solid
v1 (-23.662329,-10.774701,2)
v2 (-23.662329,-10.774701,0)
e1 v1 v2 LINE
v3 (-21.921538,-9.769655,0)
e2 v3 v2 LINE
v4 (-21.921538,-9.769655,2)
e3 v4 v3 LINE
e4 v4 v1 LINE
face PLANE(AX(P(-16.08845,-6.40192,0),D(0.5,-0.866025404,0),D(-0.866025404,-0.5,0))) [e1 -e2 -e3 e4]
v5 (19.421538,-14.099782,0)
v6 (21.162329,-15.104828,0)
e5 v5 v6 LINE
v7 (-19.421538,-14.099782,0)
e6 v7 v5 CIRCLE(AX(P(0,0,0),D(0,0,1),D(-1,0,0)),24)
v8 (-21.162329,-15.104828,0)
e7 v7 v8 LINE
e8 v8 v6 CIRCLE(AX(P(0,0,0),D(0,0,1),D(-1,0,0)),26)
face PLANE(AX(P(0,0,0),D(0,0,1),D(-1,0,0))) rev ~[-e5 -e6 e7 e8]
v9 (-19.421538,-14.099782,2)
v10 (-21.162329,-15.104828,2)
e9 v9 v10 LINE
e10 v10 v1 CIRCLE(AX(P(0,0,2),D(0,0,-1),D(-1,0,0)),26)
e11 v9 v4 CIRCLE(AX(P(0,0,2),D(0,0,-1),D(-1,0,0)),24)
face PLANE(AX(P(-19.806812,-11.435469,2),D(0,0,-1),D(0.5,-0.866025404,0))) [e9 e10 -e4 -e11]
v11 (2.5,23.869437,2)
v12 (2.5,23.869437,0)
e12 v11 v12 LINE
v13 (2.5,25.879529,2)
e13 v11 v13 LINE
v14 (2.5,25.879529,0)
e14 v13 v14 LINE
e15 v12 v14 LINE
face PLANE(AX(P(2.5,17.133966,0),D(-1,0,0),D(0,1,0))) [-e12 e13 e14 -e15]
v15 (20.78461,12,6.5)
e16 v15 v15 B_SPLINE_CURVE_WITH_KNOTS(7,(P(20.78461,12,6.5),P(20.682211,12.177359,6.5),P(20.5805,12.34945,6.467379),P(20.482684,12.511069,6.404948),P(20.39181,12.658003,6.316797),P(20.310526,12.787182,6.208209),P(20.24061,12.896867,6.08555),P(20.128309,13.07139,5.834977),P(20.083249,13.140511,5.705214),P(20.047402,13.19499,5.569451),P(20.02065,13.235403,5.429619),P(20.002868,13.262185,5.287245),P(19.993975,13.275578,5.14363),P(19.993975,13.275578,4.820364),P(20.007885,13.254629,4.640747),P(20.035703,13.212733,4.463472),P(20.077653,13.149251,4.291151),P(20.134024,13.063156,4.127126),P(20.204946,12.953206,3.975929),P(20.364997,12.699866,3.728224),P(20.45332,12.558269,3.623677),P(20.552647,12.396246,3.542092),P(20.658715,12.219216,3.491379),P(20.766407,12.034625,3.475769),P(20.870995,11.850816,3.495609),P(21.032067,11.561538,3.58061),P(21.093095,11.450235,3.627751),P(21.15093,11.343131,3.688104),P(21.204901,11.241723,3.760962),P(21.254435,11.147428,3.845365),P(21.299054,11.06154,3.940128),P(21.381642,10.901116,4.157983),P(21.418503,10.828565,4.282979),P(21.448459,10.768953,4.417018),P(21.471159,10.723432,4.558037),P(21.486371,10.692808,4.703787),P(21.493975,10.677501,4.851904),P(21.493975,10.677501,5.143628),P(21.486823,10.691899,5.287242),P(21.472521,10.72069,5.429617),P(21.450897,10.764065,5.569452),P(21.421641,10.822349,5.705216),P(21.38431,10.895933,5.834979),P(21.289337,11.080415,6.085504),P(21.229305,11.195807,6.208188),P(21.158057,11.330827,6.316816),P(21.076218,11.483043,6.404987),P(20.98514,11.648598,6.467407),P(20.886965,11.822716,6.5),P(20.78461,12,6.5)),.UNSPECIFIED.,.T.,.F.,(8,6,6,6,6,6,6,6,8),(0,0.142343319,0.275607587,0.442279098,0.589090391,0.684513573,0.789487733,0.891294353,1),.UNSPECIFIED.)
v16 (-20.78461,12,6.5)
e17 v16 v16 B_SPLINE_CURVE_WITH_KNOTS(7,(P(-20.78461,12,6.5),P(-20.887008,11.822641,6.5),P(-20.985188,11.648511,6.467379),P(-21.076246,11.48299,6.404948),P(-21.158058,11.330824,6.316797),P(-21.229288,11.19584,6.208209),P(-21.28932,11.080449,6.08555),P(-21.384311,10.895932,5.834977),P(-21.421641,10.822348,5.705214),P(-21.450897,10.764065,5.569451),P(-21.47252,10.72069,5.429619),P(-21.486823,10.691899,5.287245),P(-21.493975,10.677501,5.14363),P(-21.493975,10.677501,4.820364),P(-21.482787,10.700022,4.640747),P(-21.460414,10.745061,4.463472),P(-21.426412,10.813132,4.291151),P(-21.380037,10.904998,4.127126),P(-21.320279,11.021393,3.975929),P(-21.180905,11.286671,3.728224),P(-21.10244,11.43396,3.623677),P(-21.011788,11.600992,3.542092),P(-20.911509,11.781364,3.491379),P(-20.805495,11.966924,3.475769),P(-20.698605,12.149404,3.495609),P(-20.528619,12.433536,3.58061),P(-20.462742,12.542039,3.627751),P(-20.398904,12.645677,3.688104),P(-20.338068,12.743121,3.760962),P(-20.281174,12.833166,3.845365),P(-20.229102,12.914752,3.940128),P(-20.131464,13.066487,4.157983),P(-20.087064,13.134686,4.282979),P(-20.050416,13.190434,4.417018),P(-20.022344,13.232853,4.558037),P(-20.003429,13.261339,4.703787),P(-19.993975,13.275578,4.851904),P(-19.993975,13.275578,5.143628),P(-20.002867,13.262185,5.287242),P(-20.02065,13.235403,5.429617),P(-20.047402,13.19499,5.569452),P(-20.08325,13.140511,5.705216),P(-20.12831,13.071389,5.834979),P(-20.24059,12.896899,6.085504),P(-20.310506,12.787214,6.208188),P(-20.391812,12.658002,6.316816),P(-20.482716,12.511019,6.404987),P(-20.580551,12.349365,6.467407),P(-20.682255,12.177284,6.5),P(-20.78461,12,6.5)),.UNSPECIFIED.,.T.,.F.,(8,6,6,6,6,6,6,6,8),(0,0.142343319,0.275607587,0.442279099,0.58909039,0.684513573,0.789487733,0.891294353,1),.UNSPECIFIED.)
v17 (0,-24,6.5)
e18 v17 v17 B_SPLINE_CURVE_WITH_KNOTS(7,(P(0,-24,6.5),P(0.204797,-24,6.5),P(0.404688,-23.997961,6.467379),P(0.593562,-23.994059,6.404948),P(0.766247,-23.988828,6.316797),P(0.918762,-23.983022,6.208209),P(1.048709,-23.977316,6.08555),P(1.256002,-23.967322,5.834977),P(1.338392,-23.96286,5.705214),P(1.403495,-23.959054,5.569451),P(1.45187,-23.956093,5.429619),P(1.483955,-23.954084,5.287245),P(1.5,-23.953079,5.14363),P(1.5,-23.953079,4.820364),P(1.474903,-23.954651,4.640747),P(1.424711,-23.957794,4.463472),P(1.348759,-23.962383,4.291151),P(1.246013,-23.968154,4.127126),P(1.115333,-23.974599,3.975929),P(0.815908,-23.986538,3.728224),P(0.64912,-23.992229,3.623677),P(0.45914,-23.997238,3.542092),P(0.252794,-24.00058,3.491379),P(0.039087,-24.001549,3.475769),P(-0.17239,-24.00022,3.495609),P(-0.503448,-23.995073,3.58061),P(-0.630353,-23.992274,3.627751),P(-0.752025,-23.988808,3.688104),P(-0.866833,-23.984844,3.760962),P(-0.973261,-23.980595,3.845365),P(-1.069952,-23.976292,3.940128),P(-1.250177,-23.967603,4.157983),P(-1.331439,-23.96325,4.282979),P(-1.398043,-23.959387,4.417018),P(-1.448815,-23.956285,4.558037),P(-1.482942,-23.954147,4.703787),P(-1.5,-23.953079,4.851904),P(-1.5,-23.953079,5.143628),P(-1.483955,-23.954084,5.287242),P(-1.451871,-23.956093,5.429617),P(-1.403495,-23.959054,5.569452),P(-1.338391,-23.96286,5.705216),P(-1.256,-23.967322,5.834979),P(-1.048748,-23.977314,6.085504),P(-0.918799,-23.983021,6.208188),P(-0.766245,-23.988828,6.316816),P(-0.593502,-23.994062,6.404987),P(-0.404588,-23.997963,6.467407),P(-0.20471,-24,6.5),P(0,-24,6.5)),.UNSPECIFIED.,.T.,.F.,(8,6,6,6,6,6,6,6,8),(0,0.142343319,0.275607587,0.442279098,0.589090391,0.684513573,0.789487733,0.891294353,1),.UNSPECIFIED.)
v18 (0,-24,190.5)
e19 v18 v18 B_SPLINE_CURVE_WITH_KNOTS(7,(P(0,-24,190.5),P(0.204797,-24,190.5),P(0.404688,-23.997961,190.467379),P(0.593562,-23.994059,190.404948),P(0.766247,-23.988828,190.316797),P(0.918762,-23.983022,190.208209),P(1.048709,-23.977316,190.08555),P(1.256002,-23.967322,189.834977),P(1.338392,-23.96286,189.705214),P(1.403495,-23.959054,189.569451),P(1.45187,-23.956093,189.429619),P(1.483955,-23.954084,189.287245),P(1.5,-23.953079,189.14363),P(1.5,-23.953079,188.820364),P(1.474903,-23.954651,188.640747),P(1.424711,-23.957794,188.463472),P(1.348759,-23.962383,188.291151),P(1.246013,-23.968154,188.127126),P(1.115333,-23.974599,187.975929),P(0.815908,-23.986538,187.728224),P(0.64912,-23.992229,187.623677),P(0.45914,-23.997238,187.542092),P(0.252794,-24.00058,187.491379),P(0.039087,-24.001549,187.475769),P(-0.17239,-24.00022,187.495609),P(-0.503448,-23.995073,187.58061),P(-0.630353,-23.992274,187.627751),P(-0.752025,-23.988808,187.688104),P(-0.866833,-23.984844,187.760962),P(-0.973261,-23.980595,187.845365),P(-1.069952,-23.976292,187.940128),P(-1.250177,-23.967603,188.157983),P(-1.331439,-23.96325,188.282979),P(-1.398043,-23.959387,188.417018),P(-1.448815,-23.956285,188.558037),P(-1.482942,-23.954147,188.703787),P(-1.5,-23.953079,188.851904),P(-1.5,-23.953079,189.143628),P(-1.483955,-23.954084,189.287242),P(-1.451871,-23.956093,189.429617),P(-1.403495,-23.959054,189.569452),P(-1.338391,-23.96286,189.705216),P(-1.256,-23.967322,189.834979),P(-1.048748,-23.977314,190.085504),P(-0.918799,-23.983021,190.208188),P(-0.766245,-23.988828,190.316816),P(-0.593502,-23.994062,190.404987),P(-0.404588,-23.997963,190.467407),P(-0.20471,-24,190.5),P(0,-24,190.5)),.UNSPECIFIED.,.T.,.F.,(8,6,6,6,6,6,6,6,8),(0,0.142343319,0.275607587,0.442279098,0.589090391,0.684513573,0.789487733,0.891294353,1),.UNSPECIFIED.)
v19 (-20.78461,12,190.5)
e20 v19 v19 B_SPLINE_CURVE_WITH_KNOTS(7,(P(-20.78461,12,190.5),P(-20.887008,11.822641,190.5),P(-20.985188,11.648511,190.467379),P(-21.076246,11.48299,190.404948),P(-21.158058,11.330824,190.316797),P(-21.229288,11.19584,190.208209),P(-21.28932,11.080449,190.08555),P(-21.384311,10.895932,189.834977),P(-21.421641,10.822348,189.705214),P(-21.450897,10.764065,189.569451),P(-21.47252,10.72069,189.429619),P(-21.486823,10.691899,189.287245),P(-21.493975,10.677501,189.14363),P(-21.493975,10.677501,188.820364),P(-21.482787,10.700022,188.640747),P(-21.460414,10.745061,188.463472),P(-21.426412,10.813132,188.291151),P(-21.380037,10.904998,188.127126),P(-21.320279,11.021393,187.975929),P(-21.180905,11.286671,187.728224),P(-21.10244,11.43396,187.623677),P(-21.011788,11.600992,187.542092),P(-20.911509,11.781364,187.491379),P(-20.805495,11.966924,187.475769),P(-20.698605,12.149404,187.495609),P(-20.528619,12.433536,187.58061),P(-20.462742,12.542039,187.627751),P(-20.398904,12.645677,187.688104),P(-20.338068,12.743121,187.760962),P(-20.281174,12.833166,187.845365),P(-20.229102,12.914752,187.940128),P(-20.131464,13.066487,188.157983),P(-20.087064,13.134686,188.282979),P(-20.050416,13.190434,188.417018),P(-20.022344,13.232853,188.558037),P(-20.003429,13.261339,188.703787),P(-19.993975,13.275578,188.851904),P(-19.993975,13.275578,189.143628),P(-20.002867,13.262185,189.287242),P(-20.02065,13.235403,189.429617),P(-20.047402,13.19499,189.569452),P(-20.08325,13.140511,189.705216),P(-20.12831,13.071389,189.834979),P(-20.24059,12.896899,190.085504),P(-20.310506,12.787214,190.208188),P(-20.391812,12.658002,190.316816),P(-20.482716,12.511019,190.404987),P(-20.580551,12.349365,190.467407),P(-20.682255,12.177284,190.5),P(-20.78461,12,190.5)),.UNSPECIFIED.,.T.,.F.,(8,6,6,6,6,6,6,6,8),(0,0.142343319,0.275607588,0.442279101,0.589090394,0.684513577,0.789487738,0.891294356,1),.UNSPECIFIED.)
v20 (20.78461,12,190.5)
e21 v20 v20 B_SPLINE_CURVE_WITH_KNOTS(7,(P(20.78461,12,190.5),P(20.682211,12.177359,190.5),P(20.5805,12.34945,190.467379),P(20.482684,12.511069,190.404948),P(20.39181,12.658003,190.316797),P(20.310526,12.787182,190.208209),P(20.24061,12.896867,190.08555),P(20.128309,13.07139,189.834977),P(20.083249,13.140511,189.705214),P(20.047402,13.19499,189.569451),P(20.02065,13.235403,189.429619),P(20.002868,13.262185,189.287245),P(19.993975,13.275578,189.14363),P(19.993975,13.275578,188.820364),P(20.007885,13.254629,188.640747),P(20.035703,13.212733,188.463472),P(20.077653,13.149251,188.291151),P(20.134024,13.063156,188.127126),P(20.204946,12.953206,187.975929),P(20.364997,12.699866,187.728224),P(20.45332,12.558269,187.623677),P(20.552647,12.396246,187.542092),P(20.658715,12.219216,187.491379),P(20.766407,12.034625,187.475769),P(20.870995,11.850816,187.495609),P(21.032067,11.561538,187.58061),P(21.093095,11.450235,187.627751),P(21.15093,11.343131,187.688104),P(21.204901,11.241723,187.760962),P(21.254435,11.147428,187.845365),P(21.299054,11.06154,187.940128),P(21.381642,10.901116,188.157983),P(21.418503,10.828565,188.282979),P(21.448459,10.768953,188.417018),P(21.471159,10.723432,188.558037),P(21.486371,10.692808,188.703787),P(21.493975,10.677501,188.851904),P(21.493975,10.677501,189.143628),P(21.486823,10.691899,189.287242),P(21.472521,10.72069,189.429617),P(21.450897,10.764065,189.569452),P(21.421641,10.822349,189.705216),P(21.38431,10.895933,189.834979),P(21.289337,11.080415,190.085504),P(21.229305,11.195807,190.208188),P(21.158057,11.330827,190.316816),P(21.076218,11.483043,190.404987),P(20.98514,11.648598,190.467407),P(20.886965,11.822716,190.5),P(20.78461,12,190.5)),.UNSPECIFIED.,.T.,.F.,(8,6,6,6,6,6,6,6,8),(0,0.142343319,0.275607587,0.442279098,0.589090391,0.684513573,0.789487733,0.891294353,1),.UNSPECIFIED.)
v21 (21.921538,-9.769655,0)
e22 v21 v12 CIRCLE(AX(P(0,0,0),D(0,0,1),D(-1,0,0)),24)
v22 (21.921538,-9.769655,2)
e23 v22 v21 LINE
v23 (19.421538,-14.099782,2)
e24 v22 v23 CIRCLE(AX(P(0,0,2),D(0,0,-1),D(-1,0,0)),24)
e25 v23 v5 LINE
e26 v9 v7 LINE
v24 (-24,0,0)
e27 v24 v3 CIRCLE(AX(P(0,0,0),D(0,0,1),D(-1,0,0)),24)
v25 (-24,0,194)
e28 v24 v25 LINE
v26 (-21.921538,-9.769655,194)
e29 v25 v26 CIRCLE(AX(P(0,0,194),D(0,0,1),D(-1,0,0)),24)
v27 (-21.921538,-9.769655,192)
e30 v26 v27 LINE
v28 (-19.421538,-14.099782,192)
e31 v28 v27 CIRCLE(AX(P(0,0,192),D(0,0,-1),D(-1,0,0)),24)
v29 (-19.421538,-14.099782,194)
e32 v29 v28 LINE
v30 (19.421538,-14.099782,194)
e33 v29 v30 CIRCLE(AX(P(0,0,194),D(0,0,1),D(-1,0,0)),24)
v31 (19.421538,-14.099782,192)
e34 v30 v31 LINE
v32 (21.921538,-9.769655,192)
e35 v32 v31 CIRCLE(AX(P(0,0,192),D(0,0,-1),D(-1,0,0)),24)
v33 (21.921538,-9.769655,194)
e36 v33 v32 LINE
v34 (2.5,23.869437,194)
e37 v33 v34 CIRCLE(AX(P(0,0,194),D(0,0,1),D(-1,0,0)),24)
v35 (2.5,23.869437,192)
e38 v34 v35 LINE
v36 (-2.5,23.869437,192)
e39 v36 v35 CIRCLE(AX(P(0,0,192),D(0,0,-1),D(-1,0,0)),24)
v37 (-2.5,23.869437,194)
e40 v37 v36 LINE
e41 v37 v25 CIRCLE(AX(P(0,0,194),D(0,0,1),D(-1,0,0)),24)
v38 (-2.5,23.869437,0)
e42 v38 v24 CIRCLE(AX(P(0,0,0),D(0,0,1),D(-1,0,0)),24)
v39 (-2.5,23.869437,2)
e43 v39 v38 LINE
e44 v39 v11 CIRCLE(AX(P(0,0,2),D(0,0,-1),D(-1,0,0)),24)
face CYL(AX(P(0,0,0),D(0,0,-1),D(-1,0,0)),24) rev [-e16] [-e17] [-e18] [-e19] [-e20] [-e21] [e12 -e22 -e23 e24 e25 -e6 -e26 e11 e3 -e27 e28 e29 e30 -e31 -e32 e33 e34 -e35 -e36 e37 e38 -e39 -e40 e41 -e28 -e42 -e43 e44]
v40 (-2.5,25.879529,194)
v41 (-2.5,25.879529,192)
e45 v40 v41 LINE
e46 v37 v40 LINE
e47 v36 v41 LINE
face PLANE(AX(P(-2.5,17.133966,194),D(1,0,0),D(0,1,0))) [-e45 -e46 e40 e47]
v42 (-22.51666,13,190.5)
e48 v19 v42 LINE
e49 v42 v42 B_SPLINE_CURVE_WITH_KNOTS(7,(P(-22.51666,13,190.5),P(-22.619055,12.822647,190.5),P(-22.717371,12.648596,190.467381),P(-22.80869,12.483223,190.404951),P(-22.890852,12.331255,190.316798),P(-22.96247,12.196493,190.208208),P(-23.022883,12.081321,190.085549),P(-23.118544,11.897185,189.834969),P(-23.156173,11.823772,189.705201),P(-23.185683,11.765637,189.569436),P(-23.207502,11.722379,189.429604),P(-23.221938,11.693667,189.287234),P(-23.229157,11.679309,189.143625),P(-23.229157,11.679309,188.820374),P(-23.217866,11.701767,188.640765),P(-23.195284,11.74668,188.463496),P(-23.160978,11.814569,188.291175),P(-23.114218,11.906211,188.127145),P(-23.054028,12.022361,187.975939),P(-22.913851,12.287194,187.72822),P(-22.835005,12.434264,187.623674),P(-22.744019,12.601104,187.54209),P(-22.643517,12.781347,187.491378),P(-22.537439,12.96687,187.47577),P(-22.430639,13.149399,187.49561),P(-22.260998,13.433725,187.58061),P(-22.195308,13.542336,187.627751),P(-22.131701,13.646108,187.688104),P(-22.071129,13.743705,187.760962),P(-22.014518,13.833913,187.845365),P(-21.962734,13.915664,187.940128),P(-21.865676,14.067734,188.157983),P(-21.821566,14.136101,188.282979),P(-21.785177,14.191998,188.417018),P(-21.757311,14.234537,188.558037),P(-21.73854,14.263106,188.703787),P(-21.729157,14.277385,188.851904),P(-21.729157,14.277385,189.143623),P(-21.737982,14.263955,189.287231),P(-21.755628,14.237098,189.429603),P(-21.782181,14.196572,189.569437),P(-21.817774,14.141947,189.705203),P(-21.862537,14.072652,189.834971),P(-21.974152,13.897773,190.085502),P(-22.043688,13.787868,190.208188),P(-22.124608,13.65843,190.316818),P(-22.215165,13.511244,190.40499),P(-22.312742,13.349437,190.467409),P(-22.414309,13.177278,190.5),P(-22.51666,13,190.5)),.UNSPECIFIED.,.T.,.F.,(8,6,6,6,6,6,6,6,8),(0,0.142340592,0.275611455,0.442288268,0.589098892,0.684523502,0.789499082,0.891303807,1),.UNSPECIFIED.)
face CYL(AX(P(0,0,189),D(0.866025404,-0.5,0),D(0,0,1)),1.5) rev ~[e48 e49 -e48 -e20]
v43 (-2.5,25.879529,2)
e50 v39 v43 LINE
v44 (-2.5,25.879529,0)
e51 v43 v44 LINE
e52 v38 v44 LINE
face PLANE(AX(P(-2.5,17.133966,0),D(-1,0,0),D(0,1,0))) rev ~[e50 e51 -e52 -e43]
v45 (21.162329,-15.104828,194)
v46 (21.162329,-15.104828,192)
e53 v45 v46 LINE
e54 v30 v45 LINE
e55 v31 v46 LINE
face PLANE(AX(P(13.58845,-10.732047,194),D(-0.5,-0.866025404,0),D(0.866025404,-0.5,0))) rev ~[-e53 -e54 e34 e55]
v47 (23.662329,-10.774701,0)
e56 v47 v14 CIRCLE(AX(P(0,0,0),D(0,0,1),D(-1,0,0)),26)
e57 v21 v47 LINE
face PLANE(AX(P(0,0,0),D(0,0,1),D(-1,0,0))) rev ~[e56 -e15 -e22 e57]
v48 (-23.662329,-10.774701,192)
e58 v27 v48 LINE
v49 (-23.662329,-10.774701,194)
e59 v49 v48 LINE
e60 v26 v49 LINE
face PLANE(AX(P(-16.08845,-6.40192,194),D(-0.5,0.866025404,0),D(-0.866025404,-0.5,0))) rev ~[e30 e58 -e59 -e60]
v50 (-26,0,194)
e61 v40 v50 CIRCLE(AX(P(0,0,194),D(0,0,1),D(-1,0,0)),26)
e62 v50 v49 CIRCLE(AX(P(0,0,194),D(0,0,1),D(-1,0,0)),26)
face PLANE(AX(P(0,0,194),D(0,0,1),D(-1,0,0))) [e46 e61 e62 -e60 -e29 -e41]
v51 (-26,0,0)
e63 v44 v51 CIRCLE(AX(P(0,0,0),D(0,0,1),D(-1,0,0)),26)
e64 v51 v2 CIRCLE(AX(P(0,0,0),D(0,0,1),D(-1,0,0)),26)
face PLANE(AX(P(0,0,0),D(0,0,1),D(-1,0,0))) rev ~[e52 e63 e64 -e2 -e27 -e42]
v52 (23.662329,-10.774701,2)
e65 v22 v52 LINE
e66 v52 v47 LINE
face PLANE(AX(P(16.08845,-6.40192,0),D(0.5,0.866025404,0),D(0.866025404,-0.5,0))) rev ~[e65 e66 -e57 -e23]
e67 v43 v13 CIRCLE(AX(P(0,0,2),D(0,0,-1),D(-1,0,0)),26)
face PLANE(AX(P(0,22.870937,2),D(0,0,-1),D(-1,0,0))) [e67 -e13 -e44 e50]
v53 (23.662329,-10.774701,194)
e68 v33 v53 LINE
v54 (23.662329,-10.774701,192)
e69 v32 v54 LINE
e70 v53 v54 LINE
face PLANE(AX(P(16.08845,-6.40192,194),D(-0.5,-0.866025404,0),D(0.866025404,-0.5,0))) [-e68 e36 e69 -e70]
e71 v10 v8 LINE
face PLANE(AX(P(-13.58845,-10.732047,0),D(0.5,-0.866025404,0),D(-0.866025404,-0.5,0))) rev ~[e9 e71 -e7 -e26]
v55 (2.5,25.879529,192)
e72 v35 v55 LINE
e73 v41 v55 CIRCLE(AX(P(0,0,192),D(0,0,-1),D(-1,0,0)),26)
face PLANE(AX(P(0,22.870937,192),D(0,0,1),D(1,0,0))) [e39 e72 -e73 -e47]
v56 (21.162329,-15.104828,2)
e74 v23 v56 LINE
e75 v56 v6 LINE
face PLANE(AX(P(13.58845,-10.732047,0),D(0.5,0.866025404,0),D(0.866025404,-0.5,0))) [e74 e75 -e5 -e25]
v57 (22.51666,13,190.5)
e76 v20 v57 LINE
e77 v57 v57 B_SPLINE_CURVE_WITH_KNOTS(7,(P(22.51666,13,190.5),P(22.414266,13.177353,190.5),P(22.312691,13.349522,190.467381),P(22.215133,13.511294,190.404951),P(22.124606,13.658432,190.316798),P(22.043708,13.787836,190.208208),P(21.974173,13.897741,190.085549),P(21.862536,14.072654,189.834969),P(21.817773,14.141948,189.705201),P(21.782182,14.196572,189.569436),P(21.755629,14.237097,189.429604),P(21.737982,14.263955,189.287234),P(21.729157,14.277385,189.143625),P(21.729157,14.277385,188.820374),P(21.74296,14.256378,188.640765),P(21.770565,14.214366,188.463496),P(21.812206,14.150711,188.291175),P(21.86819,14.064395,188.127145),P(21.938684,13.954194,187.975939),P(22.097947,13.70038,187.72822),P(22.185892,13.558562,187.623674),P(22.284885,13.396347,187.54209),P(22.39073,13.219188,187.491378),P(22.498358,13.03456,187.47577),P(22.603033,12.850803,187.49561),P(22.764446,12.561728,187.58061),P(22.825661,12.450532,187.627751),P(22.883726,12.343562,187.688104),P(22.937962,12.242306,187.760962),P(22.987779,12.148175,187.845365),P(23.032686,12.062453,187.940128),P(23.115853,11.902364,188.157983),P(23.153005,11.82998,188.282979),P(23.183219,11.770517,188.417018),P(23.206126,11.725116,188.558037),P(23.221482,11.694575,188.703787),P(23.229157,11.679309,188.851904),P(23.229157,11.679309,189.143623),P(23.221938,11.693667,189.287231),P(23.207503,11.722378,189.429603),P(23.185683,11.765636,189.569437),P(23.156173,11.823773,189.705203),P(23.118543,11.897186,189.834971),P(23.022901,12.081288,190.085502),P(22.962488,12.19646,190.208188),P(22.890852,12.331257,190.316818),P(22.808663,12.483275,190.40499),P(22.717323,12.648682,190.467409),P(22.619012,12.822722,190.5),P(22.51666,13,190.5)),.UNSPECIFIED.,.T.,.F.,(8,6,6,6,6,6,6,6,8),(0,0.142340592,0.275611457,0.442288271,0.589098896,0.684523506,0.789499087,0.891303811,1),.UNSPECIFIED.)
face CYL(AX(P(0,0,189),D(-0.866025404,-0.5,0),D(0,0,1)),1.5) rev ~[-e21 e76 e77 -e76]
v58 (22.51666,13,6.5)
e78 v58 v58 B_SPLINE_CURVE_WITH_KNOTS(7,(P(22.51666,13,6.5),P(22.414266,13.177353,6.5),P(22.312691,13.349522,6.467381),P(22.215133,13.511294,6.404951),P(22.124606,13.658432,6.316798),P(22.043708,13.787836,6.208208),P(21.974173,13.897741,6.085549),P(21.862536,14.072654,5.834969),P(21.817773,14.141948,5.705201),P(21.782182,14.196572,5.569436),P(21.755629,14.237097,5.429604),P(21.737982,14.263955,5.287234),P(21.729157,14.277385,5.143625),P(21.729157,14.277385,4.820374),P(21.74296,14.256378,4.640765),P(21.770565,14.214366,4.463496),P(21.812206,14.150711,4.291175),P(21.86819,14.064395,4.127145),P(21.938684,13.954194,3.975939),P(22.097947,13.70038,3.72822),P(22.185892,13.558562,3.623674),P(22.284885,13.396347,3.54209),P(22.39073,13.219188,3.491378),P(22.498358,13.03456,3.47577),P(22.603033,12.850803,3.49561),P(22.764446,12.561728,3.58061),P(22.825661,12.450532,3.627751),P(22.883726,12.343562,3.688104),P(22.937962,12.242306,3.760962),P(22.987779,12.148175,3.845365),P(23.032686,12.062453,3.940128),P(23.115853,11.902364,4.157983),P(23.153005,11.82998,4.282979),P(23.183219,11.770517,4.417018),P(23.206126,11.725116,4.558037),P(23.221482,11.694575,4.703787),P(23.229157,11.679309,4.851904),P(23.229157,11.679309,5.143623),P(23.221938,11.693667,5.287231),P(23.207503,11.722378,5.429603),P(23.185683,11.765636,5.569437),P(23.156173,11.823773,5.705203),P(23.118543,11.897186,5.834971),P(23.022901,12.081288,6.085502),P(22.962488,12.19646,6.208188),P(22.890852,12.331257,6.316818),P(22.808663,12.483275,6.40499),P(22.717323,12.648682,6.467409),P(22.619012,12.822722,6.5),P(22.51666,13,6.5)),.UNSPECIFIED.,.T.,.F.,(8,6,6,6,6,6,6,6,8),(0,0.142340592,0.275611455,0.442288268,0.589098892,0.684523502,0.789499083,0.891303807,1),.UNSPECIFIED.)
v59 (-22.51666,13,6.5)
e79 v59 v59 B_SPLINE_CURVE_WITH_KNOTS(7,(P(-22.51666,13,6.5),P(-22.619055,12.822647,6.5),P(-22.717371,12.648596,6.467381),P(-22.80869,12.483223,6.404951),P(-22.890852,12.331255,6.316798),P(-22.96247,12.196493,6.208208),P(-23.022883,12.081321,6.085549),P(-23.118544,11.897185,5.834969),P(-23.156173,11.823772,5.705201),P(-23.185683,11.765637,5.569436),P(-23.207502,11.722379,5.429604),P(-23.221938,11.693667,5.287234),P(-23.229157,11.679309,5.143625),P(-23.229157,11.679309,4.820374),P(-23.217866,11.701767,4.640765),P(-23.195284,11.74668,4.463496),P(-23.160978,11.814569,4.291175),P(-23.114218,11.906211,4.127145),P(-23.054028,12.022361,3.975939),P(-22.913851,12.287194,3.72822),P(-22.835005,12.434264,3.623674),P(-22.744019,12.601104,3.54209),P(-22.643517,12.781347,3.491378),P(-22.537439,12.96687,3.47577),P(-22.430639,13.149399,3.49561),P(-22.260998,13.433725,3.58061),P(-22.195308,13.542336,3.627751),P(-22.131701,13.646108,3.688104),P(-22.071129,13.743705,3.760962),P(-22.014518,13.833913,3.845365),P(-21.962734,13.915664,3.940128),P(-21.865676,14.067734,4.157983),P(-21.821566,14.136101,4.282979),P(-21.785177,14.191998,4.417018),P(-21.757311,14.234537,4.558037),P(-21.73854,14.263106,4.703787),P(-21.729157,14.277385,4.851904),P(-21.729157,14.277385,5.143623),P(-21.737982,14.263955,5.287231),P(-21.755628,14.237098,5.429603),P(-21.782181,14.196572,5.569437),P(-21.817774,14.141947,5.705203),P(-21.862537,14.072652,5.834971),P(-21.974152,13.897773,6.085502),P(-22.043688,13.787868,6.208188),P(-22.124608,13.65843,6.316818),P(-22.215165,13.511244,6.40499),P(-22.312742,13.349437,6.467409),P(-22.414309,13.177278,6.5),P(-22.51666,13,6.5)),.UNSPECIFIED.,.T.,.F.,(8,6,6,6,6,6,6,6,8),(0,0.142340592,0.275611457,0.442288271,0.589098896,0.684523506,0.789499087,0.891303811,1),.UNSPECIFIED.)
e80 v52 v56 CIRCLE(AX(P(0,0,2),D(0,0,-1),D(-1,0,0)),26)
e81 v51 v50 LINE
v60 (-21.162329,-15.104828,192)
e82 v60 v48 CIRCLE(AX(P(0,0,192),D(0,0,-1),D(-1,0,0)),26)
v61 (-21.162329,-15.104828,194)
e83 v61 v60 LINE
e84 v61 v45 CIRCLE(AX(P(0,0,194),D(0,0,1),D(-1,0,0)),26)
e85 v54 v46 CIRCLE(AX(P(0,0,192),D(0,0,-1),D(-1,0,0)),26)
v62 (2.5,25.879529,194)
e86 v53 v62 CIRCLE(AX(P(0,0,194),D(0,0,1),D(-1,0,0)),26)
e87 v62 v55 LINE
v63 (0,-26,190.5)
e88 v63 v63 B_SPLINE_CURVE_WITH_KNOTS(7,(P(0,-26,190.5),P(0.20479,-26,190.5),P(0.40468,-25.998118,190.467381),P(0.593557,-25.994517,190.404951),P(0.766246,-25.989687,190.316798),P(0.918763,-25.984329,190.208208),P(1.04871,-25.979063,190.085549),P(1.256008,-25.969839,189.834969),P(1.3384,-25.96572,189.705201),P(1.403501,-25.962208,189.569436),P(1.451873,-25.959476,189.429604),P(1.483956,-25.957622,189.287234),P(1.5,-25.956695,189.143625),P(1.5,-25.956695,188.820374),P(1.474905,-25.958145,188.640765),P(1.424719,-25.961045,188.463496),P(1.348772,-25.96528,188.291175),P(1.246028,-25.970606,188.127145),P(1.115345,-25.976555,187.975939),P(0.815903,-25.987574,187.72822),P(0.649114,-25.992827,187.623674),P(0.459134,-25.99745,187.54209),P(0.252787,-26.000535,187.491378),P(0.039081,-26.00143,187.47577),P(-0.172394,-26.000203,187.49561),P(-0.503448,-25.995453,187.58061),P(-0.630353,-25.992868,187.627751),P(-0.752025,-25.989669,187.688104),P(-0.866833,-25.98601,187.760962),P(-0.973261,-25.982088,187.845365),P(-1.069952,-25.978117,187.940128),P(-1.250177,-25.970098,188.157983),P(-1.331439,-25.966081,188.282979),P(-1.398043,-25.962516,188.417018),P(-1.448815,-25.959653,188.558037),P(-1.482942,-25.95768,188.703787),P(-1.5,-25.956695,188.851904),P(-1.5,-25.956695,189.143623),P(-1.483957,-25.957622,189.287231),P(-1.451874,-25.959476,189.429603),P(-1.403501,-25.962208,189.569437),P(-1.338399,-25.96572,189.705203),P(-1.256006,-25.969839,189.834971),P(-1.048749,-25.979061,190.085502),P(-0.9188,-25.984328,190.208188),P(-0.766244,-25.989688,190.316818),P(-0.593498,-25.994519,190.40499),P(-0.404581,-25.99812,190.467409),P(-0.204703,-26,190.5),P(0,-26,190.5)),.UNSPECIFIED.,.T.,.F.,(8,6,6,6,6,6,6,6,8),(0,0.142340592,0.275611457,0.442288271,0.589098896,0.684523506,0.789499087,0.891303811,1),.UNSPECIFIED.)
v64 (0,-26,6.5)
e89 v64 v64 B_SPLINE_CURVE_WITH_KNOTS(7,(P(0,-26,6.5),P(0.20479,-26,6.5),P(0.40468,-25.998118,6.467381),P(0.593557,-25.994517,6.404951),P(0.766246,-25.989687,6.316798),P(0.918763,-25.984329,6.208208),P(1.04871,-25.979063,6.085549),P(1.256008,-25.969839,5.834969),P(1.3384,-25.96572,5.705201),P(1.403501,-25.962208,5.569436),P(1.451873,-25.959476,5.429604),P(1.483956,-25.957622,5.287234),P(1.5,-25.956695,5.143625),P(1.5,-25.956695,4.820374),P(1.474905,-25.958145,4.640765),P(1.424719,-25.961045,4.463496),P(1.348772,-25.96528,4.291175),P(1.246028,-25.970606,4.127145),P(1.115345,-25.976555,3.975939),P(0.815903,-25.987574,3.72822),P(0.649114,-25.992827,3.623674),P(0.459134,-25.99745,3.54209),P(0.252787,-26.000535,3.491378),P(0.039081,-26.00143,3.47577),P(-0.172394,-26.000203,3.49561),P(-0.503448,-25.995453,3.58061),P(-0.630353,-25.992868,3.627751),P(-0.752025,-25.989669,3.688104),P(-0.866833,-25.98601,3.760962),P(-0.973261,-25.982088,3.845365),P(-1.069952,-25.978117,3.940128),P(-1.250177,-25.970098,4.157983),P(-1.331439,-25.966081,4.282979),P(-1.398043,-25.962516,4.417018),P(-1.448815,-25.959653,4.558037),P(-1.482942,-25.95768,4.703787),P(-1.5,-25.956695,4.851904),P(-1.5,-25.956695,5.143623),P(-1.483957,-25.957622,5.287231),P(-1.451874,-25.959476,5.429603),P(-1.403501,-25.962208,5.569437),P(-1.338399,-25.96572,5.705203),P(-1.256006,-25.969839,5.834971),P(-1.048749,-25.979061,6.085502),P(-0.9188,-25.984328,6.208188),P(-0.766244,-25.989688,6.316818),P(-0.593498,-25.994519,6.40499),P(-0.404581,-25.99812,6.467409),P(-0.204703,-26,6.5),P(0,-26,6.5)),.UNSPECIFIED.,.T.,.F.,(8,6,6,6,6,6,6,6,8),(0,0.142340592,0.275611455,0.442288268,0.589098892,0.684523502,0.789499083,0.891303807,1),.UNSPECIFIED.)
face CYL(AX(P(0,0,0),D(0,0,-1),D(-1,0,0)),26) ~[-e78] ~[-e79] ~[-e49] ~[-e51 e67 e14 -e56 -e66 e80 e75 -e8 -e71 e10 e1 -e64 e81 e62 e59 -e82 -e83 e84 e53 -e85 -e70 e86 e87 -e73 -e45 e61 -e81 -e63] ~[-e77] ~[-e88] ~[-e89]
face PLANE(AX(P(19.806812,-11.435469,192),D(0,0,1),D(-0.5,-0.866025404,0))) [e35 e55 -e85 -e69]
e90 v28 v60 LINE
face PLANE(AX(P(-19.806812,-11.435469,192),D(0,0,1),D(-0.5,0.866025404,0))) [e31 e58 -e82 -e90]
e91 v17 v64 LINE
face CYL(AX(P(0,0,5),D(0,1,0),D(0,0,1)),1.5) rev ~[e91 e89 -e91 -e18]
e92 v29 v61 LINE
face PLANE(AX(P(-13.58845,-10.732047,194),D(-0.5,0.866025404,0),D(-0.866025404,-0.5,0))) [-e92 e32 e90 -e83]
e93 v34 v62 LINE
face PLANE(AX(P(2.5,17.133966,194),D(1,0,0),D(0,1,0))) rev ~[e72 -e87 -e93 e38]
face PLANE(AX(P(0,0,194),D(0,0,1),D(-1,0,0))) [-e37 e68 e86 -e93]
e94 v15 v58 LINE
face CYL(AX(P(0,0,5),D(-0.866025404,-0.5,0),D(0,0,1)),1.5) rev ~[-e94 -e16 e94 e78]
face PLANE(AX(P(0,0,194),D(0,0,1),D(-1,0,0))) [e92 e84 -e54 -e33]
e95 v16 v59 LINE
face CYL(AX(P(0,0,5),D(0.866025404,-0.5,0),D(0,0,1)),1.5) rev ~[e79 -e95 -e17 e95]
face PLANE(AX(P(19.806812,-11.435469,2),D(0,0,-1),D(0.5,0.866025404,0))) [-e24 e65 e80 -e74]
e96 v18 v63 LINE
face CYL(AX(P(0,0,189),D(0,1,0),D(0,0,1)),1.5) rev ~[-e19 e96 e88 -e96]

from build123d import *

# Parameters (mm, degrees)
SKETCH_1_R               = 26
SKETCH_1_R_2             = 24
EXTRUDE_1_DEPTH          = 194
SKETCH_2_R               = 1.5
CUT_EXTRUDE_1_DEPTH      = 88
PATTERN_CIRCULAR_1_COUNT = 3
SKETCH_3_W               = 5
SKETCH_3_H               = 11.473941433
CUT_EXTRUDE_2_DEPTH      = 2
PATTERN_CIRCULAR_2_COUNT = 3
SKETCH_4_W               = 5
SKETCH_4_H               = 11.473941433
CUT_EXTRUDE_3_DEPTH      = 2
PATTERN_CIRCULAR_3_COUNT = 3


with BuildPart() as part:
    # Эскиз1 → Бобышка-Вытянуть1 (new body)
    with BuildSketch(Plane.XY):
        with Locations(Location((0, 0, 0), (0, 0, 180))):
            Circle(SKETCH_1_R)
        with Locations(Location((0, 0, 0), (0, 0, 180))):
            Circle(SKETCH_1_R_2, mode=Mode.SUBTRACT)
    extrude(amount=EXTRUDE_1_DEPTH)

    # Эскиз2 → Вырез-Вытянуть1 (cut)
    with BuildSketch(Plane(origin=(0, 0, 0), x_dir=(1, 0, 0), z_dir=(0, 1, 0))):
        with Locations(Location((0, -5, 0), (0, 0, 270))):
            Circle(SKETCH_2_R)
        with Locations(Location((0, -189, 0), (0, 0, 270))):
            Circle(SKETCH_2_R)
    cut_extrude_1 = extrude(amount=-CUT_EXTRUDE_1_DEPTH, mode=Mode.SUBTRACT)

    # Круговой массив1: Вырез-Вытянуть1 ×3 about axis
    pattern_circular_1_axis = Axis((0, 0, 194), (0, 0, -1))
    for i in range(1, PATTERN_CIRCULAR_1_COUNT):
        add(cut_extrude_1.rotate(pattern_circular_1_axis, i * 360 / PATTERN_CIRCULAR_1_COUNT), mode=Mode.SUBTRACT)

    # Эскиз3 → Вырез-Вытянуть2 (cut)
    with BuildSketch(Plane(origin=(0, 0, 0), x_dir=(-1, 0, 0), z_dir=(0, 0, -1))):
        with Locations((0, 22.870937025)):
            Rectangle(SKETCH_3_W, SKETCH_3_H)
    cut_extrude_2 = extrude(amount=-CUT_EXTRUDE_2_DEPTH, mode=Mode.SUBTRACT)

    # Круговой массив2: Вырез-Вытянуть2 ×3 about axis
    pattern_circular_2_axis = Axis((0, 0, 0), (0, 0, 1))
    for i in range(1, PATTERN_CIRCULAR_2_COUNT):
        add(cut_extrude_2.rotate(pattern_circular_2_axis, i * 360 / PATTERN_CIRCULAR_2_COUNT), mode=Mode.SUBTRACT)

    # Эскиз4 → Вырез-Вытянуть3 (cut)
    with BuildSketch(Plane.XY.offset(194)):
        with Locations((0, 22.870937025)):
            Rectangle(SKETCH_4_W, SKETCH_4_H)
    cut_extrude_3 = extrude(amount=-CUT_EXTRUDE_3_DEPTH, mode=Mode.SUBTRACT)

    # Круговой массив3: Вырез-Вытянуть3 ×3 about axis
    pattern_circular_3_axis = Axis((0, 0, 0), (0, 0, 1))
    for i in range(1, PATTERN_CIRCULAR_3_COUNT):
        add(cut_extrude_3.rotate(pattern_circular_3_axis, i * 360 / PATTERN_CIRCULAR_3_COUNT), mode=Mode.SUBTRACT)


solid = part.part
